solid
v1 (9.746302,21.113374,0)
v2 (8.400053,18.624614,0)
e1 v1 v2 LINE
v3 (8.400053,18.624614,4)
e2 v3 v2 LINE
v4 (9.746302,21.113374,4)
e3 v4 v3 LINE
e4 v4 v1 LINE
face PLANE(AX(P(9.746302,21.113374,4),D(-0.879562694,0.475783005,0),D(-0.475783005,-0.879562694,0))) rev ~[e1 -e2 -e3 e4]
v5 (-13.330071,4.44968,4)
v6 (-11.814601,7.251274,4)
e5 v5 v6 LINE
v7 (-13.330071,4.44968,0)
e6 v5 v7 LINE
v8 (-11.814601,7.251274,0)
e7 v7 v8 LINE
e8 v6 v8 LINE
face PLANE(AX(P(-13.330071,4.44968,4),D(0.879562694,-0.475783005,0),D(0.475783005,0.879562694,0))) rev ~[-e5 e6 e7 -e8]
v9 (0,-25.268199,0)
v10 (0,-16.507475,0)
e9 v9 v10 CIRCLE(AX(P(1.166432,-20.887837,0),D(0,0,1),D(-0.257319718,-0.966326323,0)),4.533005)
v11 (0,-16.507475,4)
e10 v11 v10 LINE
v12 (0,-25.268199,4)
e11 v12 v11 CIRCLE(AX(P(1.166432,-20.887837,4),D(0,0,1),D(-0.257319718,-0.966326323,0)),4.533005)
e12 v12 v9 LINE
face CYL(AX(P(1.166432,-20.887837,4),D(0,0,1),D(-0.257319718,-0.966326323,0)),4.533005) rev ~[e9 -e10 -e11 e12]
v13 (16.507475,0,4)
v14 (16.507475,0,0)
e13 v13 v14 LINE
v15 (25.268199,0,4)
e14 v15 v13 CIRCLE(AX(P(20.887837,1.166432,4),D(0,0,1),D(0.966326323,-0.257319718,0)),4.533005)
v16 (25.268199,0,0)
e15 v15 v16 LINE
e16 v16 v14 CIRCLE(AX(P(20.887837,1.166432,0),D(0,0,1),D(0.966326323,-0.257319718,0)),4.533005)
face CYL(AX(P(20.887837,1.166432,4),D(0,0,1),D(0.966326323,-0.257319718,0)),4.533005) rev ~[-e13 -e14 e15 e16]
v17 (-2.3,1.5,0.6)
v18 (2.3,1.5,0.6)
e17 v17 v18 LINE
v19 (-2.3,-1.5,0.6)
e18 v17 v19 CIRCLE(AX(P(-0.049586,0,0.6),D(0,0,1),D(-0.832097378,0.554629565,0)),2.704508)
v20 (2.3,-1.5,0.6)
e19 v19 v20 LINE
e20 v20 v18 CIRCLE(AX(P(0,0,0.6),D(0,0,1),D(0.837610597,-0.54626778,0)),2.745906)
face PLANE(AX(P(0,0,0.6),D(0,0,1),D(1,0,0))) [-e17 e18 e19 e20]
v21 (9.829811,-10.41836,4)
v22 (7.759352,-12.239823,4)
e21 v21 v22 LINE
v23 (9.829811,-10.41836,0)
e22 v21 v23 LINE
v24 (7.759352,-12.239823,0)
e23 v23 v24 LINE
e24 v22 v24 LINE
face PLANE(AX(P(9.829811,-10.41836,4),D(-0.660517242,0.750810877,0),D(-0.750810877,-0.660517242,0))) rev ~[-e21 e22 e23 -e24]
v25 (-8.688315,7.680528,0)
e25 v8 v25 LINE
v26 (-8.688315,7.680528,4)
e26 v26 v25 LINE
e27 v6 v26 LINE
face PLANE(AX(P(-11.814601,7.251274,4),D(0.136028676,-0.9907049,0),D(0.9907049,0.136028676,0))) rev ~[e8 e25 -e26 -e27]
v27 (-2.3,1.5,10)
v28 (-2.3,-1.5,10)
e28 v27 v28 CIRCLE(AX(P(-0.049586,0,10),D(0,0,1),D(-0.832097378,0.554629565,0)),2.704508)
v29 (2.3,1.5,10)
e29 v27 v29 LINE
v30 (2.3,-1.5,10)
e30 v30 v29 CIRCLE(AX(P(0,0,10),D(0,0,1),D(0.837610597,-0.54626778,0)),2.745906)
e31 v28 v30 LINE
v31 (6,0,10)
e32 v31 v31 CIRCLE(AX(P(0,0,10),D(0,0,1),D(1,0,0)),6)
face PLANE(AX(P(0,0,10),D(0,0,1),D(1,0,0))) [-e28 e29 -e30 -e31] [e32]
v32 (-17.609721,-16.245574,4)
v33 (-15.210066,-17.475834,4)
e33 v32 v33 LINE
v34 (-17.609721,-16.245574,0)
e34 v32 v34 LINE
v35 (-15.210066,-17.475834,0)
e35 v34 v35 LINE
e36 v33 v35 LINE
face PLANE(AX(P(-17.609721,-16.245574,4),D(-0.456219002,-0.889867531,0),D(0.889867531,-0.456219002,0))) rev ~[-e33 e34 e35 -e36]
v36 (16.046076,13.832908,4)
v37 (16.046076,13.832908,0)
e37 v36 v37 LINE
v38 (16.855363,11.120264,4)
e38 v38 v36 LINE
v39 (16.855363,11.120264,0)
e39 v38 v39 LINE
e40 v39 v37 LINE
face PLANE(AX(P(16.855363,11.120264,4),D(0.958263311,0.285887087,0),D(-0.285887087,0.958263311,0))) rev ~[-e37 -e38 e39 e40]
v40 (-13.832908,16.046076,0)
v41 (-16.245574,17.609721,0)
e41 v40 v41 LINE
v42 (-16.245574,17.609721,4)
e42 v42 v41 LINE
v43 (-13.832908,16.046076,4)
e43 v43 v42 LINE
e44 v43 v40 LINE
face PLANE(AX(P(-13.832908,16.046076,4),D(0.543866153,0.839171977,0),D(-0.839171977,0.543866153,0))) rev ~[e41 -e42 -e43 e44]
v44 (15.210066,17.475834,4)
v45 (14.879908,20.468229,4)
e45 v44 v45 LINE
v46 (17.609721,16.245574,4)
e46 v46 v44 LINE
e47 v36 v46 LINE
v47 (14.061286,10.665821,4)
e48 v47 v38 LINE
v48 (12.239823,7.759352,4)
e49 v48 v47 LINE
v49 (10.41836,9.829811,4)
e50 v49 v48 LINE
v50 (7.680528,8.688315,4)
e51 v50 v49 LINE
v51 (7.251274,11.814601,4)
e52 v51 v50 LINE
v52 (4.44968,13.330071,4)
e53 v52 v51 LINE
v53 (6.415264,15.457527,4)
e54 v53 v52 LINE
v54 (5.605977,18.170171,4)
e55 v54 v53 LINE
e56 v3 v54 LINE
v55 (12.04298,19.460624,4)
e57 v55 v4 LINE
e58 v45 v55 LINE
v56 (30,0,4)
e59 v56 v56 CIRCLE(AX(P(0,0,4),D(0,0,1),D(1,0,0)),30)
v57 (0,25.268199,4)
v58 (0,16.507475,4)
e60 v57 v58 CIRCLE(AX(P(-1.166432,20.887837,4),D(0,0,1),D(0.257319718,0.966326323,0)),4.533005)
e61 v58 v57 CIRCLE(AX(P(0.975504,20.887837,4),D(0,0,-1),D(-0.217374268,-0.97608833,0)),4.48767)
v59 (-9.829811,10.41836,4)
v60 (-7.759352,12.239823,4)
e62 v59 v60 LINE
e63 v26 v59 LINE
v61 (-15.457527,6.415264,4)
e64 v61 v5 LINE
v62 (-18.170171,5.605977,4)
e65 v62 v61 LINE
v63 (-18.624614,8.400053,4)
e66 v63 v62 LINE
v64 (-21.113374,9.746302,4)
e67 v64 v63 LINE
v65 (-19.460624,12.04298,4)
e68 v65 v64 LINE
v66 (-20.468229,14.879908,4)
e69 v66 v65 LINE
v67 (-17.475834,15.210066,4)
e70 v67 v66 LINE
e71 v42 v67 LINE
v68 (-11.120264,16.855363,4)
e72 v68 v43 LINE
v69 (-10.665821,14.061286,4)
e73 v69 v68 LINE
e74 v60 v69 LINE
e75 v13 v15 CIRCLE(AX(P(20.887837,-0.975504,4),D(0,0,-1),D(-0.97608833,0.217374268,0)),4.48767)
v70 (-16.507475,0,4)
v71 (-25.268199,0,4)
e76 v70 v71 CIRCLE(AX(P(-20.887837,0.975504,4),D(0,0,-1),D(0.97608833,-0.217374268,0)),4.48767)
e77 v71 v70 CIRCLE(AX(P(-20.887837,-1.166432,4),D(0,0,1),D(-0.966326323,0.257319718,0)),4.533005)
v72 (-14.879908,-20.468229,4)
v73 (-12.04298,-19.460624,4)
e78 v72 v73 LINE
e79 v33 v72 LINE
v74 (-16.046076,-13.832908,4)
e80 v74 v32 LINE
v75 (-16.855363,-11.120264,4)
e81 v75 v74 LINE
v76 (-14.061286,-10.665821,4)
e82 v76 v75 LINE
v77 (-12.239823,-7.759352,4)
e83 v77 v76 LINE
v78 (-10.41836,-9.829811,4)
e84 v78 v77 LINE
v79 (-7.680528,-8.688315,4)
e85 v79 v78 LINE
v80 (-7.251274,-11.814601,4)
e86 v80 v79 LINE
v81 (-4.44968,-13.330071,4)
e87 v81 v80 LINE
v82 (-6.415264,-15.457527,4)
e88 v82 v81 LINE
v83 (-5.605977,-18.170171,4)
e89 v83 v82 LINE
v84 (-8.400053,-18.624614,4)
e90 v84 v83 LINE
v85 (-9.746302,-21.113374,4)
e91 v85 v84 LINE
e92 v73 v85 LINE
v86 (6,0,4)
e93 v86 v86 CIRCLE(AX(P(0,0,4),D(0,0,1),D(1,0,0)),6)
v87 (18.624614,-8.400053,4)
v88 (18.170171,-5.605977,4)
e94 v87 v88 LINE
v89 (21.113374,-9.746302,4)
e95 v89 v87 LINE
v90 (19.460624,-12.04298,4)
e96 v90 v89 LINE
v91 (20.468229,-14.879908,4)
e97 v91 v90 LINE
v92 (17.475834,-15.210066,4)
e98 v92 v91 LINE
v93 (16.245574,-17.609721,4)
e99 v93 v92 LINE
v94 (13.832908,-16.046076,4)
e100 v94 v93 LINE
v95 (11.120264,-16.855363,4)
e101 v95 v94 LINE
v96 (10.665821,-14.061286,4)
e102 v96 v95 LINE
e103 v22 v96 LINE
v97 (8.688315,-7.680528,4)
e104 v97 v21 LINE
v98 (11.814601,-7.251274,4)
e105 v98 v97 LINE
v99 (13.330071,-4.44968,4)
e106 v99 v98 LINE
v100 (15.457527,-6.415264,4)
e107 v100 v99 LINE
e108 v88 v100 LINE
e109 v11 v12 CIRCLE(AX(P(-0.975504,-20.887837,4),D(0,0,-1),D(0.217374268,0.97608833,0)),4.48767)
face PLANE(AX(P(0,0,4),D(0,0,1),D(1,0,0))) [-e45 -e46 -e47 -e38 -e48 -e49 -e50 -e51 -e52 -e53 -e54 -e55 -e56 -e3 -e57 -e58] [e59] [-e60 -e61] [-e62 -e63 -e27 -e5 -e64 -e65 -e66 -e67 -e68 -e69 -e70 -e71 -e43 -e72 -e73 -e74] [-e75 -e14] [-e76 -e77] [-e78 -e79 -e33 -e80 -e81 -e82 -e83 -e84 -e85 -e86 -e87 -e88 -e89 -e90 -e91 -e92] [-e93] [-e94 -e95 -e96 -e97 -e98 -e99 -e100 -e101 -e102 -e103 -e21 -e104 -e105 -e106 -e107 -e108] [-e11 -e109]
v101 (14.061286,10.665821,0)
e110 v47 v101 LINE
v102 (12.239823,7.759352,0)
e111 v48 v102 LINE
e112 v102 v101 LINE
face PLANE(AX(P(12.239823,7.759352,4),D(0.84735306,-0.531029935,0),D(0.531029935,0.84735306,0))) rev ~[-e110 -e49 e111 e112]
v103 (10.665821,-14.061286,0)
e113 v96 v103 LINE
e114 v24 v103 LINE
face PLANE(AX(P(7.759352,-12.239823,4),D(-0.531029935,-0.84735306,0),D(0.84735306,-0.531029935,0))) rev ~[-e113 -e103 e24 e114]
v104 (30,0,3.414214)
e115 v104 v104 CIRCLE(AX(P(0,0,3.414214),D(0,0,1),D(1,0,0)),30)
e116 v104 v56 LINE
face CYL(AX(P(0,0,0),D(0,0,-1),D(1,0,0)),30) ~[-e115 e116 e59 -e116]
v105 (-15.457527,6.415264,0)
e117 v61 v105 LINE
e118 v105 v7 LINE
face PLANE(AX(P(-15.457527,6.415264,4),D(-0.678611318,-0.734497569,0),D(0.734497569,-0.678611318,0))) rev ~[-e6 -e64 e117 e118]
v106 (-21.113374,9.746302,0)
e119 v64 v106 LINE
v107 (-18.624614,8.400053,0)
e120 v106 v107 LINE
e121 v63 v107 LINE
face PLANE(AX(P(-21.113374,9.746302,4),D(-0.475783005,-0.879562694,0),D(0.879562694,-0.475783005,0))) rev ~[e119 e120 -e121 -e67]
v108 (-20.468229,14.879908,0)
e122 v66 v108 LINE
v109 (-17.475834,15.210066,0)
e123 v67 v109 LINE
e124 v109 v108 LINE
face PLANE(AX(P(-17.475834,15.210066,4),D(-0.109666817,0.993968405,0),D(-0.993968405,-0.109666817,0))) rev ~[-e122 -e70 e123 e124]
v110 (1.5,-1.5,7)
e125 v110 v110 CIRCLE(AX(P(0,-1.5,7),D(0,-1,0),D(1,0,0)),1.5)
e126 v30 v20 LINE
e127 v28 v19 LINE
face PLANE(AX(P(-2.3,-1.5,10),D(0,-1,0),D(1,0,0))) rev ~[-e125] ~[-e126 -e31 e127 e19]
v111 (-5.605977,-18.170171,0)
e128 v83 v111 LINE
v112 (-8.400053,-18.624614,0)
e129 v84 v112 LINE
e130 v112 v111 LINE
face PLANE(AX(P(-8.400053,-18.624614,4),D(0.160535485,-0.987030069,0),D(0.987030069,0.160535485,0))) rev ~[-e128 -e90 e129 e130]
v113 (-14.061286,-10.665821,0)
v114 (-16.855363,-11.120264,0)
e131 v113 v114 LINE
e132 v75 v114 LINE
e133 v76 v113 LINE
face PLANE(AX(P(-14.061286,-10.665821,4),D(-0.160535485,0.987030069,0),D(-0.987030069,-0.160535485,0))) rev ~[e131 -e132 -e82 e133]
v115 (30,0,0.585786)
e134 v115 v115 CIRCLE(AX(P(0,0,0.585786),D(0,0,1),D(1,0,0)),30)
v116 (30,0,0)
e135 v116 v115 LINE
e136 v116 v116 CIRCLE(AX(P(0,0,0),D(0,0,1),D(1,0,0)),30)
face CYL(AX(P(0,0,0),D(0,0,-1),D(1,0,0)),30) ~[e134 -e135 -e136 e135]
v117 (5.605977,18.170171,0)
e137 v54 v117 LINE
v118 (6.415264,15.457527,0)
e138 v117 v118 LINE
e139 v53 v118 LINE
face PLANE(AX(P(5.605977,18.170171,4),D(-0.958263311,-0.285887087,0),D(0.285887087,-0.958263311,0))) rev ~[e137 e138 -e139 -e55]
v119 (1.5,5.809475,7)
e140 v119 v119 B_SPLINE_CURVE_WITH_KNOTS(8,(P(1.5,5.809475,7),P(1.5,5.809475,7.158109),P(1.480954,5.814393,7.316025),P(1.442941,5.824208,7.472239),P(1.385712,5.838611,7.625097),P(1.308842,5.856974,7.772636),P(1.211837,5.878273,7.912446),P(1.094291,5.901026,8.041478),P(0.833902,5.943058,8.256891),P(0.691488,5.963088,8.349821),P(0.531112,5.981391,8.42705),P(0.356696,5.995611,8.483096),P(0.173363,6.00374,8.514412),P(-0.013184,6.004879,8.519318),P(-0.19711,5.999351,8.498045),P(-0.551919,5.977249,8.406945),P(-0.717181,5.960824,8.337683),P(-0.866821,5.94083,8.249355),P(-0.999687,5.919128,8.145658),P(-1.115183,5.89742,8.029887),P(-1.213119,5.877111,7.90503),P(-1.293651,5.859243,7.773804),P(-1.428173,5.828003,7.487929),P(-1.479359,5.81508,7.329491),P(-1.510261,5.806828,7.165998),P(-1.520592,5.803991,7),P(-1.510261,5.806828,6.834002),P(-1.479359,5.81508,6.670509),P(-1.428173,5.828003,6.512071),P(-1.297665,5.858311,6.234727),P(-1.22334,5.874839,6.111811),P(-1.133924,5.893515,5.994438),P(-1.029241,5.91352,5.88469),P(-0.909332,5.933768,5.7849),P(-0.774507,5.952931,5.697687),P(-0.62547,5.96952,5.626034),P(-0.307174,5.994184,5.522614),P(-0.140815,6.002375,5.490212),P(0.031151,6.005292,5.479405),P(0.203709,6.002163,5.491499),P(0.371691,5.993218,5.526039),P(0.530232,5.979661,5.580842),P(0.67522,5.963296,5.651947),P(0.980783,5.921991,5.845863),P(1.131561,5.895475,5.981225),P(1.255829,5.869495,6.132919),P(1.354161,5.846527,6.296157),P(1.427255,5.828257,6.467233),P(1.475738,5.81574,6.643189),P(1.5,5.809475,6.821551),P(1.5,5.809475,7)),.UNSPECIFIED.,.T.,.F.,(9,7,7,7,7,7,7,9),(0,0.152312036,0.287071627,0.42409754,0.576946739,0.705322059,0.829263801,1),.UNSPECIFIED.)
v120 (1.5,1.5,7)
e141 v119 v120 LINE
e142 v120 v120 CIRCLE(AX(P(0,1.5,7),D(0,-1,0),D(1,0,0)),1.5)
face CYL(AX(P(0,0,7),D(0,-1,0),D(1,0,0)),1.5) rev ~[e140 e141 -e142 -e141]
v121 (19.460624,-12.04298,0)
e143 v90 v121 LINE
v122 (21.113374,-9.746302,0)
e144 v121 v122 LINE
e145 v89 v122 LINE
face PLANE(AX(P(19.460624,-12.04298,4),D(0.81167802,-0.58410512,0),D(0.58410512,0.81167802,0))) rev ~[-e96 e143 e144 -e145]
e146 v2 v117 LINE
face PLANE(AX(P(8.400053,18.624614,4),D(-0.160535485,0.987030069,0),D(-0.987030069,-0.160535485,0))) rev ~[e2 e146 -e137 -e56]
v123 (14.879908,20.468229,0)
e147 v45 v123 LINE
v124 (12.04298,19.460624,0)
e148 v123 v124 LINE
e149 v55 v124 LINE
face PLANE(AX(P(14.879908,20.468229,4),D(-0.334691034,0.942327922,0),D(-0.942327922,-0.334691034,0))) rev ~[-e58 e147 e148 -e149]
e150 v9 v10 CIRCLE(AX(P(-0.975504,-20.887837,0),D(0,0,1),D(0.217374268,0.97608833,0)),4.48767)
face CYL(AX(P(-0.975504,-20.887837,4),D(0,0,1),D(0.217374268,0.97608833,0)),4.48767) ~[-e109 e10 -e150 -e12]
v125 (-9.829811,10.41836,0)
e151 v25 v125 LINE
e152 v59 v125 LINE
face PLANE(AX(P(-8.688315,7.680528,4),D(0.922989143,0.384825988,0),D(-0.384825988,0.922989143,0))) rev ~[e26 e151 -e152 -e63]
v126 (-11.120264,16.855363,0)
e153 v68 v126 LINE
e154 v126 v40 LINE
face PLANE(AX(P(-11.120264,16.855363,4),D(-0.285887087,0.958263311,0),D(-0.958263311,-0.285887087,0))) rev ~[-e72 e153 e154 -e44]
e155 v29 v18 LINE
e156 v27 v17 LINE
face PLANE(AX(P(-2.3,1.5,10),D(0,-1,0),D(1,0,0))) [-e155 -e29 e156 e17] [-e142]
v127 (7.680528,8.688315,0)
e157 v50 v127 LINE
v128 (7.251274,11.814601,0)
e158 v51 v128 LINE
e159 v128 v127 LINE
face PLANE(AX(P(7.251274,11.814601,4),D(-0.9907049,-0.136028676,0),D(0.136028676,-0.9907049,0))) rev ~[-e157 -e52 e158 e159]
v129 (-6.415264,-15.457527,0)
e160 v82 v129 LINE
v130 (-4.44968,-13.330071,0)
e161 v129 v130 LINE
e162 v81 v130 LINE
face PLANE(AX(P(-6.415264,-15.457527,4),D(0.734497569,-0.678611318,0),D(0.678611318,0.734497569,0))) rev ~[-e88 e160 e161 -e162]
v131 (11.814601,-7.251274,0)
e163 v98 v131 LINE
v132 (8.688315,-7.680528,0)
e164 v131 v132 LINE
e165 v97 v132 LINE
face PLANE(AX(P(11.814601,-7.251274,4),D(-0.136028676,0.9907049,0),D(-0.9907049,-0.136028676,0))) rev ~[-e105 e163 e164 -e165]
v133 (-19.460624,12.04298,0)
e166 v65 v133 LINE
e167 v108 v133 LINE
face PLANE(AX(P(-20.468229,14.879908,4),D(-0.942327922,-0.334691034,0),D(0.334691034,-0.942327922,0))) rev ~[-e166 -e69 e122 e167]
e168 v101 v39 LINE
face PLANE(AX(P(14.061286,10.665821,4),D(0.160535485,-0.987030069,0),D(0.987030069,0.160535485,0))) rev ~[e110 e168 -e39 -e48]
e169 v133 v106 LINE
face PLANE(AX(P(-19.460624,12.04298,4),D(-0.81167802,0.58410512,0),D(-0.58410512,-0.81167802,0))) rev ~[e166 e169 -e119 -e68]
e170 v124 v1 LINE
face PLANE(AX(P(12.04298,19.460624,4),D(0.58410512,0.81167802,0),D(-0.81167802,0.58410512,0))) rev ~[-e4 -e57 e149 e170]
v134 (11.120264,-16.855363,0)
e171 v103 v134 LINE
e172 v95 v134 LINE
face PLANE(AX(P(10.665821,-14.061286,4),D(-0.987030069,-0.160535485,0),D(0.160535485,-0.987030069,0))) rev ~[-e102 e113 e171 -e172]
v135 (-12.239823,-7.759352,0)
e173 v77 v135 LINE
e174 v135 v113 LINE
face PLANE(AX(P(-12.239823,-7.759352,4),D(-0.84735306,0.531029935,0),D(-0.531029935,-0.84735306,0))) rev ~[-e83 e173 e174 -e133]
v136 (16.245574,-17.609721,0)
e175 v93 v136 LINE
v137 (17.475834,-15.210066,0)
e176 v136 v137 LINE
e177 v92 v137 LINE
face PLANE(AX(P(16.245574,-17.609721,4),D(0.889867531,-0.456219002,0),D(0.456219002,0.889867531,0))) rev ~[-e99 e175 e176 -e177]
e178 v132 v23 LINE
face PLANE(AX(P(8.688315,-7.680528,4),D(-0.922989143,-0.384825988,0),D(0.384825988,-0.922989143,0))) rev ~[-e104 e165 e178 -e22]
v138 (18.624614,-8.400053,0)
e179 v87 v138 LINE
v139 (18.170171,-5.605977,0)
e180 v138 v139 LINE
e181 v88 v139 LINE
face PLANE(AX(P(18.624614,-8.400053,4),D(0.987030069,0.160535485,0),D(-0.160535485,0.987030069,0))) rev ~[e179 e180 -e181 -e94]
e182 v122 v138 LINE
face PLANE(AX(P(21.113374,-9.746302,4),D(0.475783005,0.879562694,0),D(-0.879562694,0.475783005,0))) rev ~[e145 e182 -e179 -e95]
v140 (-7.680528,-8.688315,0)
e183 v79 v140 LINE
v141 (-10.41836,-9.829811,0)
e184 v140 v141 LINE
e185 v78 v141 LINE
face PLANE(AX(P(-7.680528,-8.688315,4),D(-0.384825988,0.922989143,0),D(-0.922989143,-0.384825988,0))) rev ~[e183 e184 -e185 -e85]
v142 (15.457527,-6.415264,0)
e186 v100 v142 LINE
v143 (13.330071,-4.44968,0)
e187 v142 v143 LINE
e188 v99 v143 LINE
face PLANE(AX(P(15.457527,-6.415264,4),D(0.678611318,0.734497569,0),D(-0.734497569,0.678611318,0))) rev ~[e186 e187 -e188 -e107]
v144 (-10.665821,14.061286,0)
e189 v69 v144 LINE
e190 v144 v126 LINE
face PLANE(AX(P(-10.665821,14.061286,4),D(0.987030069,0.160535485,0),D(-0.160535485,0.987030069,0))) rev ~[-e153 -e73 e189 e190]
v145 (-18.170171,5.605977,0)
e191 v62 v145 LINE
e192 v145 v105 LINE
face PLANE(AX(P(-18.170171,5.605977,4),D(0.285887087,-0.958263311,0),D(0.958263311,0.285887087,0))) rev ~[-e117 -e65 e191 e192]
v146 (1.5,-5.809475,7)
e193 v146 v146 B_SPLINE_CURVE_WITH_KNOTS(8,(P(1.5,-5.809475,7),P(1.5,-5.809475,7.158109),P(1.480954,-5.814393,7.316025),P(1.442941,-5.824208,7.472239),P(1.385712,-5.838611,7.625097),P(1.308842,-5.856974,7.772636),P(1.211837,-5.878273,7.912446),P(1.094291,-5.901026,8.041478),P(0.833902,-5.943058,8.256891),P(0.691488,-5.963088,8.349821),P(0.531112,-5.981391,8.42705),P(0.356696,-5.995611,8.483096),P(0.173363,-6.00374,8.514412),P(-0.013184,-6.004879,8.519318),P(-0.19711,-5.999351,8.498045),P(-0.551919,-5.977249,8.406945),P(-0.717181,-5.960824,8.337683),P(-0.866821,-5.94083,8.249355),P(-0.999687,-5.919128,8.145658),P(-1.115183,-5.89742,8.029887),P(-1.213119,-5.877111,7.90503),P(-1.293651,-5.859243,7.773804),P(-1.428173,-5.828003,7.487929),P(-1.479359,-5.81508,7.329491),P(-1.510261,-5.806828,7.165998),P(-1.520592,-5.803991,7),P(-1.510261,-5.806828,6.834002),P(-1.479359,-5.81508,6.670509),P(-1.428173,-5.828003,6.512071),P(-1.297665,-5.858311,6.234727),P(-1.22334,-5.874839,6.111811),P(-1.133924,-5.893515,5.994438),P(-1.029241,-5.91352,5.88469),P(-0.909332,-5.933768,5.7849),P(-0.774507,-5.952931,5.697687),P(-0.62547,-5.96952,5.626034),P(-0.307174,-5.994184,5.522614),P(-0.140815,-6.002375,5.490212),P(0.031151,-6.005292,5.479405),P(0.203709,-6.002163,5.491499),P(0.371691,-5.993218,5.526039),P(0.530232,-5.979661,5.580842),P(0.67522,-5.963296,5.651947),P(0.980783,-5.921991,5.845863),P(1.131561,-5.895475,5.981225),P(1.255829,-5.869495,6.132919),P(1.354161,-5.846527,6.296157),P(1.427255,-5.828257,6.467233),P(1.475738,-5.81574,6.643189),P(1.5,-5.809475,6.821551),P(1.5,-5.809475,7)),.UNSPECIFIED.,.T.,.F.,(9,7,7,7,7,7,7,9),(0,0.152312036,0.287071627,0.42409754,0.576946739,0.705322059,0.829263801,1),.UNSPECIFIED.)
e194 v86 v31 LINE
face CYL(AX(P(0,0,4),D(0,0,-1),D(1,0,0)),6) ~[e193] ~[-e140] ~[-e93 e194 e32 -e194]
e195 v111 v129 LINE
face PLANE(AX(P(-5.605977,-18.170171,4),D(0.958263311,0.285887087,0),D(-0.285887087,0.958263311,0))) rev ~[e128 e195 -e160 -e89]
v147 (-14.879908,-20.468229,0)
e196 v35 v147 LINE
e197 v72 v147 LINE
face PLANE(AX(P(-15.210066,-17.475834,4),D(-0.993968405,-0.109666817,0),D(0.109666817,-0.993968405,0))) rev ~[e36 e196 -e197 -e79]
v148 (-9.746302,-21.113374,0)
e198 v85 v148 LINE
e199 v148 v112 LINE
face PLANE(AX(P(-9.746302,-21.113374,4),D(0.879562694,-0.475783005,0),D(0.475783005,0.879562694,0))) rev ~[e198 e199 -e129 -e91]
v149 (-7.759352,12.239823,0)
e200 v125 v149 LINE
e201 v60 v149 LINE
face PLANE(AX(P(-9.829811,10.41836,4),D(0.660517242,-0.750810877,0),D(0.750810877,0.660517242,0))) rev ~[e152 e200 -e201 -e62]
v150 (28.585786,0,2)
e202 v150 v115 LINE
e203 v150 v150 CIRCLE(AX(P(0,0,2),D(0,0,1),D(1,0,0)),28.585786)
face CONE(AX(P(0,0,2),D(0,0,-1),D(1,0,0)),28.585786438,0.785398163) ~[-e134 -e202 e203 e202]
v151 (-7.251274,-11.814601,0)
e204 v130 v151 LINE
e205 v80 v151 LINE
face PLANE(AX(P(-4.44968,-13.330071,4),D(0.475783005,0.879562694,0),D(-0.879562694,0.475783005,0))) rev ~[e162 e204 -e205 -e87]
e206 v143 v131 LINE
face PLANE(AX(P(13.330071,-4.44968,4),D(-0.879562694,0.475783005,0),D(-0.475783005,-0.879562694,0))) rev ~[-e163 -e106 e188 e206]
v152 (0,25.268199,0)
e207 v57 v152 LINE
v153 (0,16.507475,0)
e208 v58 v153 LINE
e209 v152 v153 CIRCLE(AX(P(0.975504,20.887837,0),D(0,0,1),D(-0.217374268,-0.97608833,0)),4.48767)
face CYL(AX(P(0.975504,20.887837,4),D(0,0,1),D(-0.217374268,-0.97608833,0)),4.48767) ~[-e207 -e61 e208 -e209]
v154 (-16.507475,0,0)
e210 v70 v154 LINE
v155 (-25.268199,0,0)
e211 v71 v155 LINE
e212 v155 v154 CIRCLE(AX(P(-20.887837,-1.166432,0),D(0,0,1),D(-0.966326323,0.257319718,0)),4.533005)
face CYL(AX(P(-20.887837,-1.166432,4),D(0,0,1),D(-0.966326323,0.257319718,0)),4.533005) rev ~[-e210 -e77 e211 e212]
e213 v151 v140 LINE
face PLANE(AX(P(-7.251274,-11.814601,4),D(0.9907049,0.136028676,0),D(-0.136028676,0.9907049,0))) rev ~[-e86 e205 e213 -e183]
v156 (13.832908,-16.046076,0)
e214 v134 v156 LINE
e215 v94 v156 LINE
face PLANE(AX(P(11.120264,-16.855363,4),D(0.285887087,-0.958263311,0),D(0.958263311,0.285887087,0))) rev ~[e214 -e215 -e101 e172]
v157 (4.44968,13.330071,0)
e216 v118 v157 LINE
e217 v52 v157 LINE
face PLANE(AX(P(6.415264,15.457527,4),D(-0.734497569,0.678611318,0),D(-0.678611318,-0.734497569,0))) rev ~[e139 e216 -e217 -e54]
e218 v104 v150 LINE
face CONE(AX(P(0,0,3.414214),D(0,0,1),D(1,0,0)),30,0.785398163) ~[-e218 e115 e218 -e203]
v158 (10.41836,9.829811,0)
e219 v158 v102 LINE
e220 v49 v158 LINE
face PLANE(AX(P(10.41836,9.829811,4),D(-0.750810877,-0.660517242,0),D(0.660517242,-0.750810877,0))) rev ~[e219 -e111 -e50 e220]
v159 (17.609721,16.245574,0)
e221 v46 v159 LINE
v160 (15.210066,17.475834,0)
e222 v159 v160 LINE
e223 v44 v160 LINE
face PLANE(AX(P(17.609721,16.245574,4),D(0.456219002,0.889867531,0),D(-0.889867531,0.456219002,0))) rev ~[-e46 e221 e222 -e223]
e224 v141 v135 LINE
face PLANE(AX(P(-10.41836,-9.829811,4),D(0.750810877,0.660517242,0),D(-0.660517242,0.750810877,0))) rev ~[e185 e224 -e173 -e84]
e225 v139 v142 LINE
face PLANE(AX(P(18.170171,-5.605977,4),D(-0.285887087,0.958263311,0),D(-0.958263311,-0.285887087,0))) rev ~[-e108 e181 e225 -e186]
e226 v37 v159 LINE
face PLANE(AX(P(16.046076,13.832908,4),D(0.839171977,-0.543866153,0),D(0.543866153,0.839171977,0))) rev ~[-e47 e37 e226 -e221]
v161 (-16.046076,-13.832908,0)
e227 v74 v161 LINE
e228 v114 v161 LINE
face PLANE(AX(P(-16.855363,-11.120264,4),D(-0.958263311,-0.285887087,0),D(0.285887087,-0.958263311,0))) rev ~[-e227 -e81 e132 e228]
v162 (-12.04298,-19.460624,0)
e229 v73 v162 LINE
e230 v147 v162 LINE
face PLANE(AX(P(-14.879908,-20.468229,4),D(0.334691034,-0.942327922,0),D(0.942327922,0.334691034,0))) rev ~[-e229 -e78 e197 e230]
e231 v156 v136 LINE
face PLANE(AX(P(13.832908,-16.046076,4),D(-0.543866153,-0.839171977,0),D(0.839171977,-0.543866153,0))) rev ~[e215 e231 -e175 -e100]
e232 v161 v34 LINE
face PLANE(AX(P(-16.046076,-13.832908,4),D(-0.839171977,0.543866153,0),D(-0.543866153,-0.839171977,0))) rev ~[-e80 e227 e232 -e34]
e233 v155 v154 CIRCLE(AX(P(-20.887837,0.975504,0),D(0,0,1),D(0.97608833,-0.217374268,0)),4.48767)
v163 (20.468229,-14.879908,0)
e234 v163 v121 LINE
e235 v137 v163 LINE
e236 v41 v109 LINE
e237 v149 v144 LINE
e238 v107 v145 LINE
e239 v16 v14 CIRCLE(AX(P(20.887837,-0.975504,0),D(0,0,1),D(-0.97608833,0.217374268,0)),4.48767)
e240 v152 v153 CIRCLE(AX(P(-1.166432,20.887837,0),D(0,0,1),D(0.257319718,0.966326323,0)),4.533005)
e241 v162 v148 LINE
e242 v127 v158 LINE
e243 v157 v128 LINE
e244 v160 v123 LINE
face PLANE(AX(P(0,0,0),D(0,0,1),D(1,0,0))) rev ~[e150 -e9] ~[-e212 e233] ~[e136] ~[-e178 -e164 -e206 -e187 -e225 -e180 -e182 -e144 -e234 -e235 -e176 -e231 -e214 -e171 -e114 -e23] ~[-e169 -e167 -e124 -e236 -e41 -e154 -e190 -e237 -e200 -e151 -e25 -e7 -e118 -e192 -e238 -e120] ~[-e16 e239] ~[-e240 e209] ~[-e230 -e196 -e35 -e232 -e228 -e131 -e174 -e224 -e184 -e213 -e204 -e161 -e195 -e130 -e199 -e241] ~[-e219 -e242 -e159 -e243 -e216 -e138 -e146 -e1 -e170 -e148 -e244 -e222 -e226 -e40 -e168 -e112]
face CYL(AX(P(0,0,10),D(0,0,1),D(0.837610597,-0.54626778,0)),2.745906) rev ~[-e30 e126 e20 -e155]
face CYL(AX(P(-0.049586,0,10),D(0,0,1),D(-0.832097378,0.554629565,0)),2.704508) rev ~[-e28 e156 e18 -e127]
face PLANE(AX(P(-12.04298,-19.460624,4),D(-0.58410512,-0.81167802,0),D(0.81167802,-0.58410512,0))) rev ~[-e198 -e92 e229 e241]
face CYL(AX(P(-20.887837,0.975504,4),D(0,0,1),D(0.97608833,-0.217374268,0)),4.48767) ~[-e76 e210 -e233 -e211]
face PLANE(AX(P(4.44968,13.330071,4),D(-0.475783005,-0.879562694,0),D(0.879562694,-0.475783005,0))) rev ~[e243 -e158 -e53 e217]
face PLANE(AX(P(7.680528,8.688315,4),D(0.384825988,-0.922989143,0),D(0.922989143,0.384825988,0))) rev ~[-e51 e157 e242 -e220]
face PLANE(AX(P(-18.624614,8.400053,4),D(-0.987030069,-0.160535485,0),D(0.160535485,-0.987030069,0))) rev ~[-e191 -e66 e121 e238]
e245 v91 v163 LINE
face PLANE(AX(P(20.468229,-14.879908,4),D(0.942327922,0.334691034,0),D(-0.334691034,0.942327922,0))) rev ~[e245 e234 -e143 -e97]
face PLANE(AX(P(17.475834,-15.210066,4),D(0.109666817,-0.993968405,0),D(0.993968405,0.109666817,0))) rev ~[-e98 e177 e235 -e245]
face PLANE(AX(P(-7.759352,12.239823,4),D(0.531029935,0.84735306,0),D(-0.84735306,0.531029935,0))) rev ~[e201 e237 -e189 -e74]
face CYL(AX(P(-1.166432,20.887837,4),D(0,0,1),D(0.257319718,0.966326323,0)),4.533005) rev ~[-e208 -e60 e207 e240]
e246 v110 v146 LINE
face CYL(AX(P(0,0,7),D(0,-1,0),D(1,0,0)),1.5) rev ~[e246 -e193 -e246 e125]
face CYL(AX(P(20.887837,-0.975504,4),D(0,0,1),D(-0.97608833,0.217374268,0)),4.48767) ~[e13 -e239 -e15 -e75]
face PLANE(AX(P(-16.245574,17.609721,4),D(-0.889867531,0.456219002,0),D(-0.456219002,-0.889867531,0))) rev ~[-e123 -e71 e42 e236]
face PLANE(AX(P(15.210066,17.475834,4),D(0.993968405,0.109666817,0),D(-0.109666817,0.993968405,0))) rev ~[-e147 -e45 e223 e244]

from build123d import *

# Parameters (mm, degrees)
F0_R      = 30
F1_DEPTH  = 4
F2_R      = 6
F3_DEPTH  = 6
F4_R      = 1.5
F5_DEPTH  = 9.95
F6_W      = 4.6
F6_H      = 3
F7_DEPTH  = 9.4
F9_DEPTH  = 25
F11_DEPTH = 25


with BuildPart() as f1:
    # F0 (on Top) → F1 (new body)
    with BuildSketch(Plane.XY):
        Circle(F0_R)
    extrude(amount=F1_DEPTH)

    # F2 (on face) → F3 (join)
    with BuildSketch(Plane.XY.offset(4)):
        Circle(F2_R)
    extrude(amount=F3_DEPTH)

    # F4 (on Front) → F5 (cut, symmetric)
    with BuildSketch(Plane.XZ):
        with Locations((0, 7)):
            Circle(F4_R)
    extrude(amount=F5_DEPTH, both=True, mode=Mode.SUBTRACT)

    # F6 (on face) → F7 (cut)
    with BuildSketch(Plane.XY.offset(10)):
        Rectangle(F6_W, F6_H)
        with BuildLine():
            ThreePointArc((2.3, -1.5), (2.7459060435, 0), (2.3, 1.5))
            Line((2.3, 1.5), (2.3, -1.5))
        make_face()
        with BuildLine():
            Line((-2.3, -1.5), (-2.3, 1.5))
            ThreePointArc((-2.3, 1.5), (-2.7540939565, 0), (-2.3, -1.5))
        make_face()
    extrude(amount=-F7_DEPTH, mode=Mode.SUBTRACT)

    # F8 (on face) → F9 (cut)
    with BuildSketch(Plane.XY.offset(4)):
        with BuildLine():
            ThreePointArc((0, 16.5074747056), (-3.5121658528, 20.8878368139), (0, 25.2681989223))
            ThreePointArc((0, 25.2681989223), (-5.6994366386, 20.8878368139), (0, 16.5074747056))
        make_face()
        with BuildLine():
            ThreePointArc((-16.5074747056, 0), (-20.8878368139, -3.5121658528), (-25.2681989223, 0))
            ThreePointArc((-25.2681989223, 0), (-20.8878368139, -5.6994366386), (-16.5074747056, 0))
        make_face()
        with BuildLine():
            ThreePointArc((0, -16.5074747056), (3.5121658528, -20.8878368139), (0, -25.2681989223))
            ThreePointArc((0, -25.2681989223), (5.6994366386, -20.8878368139), (0, -16.5074747056))
        make_face()
        with BuildLine():
            ThreePointArc((16.5074747056, 0), (20.8878368139, 3.5121658528), (25.2681989223, 0))
            ThreePointArc((25.2681989223, 0), (20.8878368139, 5.6994366386), (16.5074747056, 0))
        make_face()
    extrude(amount=-F9_DEPTH, mode=Mode.SUBTRACT)

    # F10 (on face) → F11 (cut)
    with BuildSketch(Plane.XY.offset(4)):
        with BuildLine():
            ThreePointArc((-9.8298114426, 10.4183598849), (-9.7788159618, 10.8230928332), (-9.7617778379, 11.2306698208))
            ThreePointArc((-9.7617778379, 11.2306698208), (-9.9932757594, 12.7164090182), (-10.6658213511, 14.0612862161))
            Line((-10.6658213511, 14.0612862161), (-9.8298114426, 10.4183598849))
        make_face()
        with BuildLine():
            ThreePointArc((-10.6658213511, 14.0612862161), (-9.9932757594, 12.7164090182), (-9.7617778379, 11.2306698208))
            ThreePointArc((-9.7617778379, 11.2306698208), (-9.7788159618, 10.8230928332), (-9.8298114426, 10.4183598849))
            Line((-9.8298114426, 10.4183598849), (-7.759351705, 12.2398230505))
            Line((-7.759351705, 12.2398230505), (-10.6658213511, 14.0612862161))
        make_face()
        with BuildLine():
            Line((-13.8329075388, 16.0460758528), (-10.6658213511, 14.0612862161))
            ThreePointArc((-10.6658213511, 14.0612862161), (-12.0519648423, 15.3686673401), (-13.8329075388, 16.0460758528))
        make_face()
        Polygon((-9.8298114426, 10.4183598849), (-10.6658213511, 14.0612862161), (-13.8329075388, 16.0460758528), (-17.47583387, 15.2100659443), (-19.4606235067, 12.0429797567), (-18.6246135982, 8.4000534254), (-15.4575274105, 6.4152637887), (-11.8146010793, 7.2512736973), align=None)
        with BuildLine():
            ThreePointArc((-13.8329075388, 16.0460758528), (-12.0519648423, 15.3686673401), (-10.6658213511, 14.0612862161))
            Line((-10.6658213511, 14.0612862161), (-11.120263847, 16.8553626042))
            Line((-11.120263847, 16.8553626042), (-13.8329075388, 16.0460758528))
        make_face()
        with BuildLine():
            Line((-8.6883150478, 7.680528209), (-9.8298114426, 10.4183598849))
            ThreePointArc((-9.8298114426, 10.4183598849), (-10.5072199553, 8.6374171884), (-11.8146010793, 7.2512736973))
            Line((-11.8146010793, 7.2512736973), (-8.6883150478, 7.680528209))
        make_face()
        with BuildLine():
            ThreePointArc((-11.8146010793, 7.2512736973), (-10.5072199553, 8.6374171884), (-9.8298114426, 10.4183598849))
            Line((-9.8298114426, 10.4183598849), (-11.8146010793, 7.2512736973))
        make_face()
        with BuildLine():
            Line((-17.47583387, 15.2100659443), (-13.8329075388, 16.0460758528))
            ThreePointArc((-13.8329075388, 16.0460758528), (-15.7375170594, 15.9903824489), (-17.47583387, 15.2100659443))
        make_face()
        with BuildLine():
            ThreePointArc((-17.47583387, 15.2100659443), (-15.7375170594, 15.9903824489), (-13.8329075388, 16.0460758528))
            Line((-13.8329075388, 16.0460758528), (-16.2455738647, 17.609721433))
            Line((-16.2455738647, 17.609721433), (-17.47583387, 15.2100659443))
        make_face()
        with BuildLine():
            Line((-13.3300706432, 4.4496803728), (-11.8146010793, 7.2512736973))
            ThreePointArc((-11.8146010793, 7.2512736973), (-13.5529178899, 6.4709571926), (-15.4575274105, 6.4152637887))
            Line((-15.4575274105, 6.4152637887), (-13.3300706432, 4.4496803728))
        make_face()
        with BuildLine():
            ThreePointArc((-15.4575274105, 6.4152637887), (-13.5529178899, 6.4709571926), (-11.8146010793, 7.2512736973))
            Line((-11.8146010793, 7.2512736973), (-15.4575274105, 6.4152637887))
        make_face()
        with BuildLine():
            Line((-19.4606235067, 12.0429797567), (-17.47583387, 15.2100659443))
            ThreePointArc((-17.47583387, 15.2100659443), (-18.783214994, 13.8239224532), (-19.4606235067, 12.0429797567))
        make_face()
        with BuildLine():
            ThreePointArc((-19.4606235067, 12.0429797567), (-18.783214994, 13.8239224532), (-17.47583387, 15.2100659443))
            Line((-17.47583387, 15.2100659443), (-20.4682286884, 14.8799081511))
            Line((-20.4682286884, 14.8799081511), (-19.4606235067, 12.0429797567))
        make_face()
        with BuildLine():
            Line((-18.1701711023, 5.6059770373), (-15.4575274105, 6.4152637887))
            ThreePointArc((-15.4575274105, 6.4152637887), (-17.2384701071, 7.0926723014), (-18.6246135982, 8.4000534254))
            Line((-18.6246135982, 8.4000534254), (-18.1701711023, 5.6059770373))
        make_face()
        with BuildLine():
            ThreePointArc((-18.6246135982, 8.4000534254), (-17.2384701071, 7.0926723014), (-15.4575274105, 6.4152637887))
            Line((-15.4575274105, 6.4152637887), (-18.6246135982, 8.4000534254))
        make_face()
        with BuildLine():
            Line((-18.6246135982, 8.4000534254), (-19.4606235067, 12.0429797567))
            ThreePointArc((-19.4606235067, 12.0429797567), (-19.4049301028, 10.138370236), (-18.6246135982, 8.4000534254))
        make_face()
        with BuildLine():
            ThreePointArc((-18.6246135982, 8.4000534254), (-19.4049301028, 10.138370236), (-19.4606235067, 12.0429797567))
            Line((-19.4606235067, 12.0429797567), (-21.1133740596, 9.7463018969))
            Line((-21.1133740596, 9.7463018969), (-18.6246135982, 8.4000534254))
        make_face()
        Polygon((-14.8799081511, -20.4682286884), (-12.0429797567, -19.4606235067), (-9.7463018969, -21.1133740596), (-8.4000534254, -18.6246135982), (-5.6059770373, -18.1701711023), (-6.4152637887, -15.4575274105), (-4.4496803728, -13.3300706432), (-7.2512736973, -11.8146010793), (-7.680528209, -8.6883150478), (-10.4183598849, -9.8298114426), (-12.2398230505, -7.759351705), (-14.0612862161, -10.6658213511), (-16.8553626042, -11.120263847), (-16.0460758528, -13.8329075388), (-17.609721433, -16.2455738647), (-15.2100659443, -17.47583387), align=None)
        Polygon((20.4682286884, -14.8799081511), (19.4606235067, -12.0429797567), (21.1133740596, -9.7463018969), (18.6246135982, -8.4000534254), (18.1701711023, -5.6059770373), (15.4575274105, -6.4152637887), (13.3300706432, -4.4496803728), (11.8146010793, -7.2512736973), (8.6883150478, -7.680528209), (9.8298114426, -10.4183598849), (7.759351705, -12.2398230505), (10.6658213511, -14.0612862161), (11.120263847, -16.8553626042), (13.8329075388, -16.0460758528), (16.2455738647, -17.609721433), (17.47583387, -15.2100659443), align=None)
        Polygon((14.8799081511, 20.4682286884), (12.0429797567, 19.4606235067), (9.7463018969, 21.1133740596), (8.4000534254, 18.6246135982), (5.6059770373, 18.1701711023), (6.4152637887, 15.4575274105), (4.4496803728, 13.3300706432), (7.2512736973, 11.8146010793), (7.680528209, 8.6883150478), (10.4183598849, 9.8298114426), (12.2398230505, 7.759351705), (14.0612862161, 10.6658213511), (16.8553626042, 11.120263847), (16.0460758528, 13.8329075388), (17.609721433, 16.2455738647), (15.2100659443, 17.47583387), align=None)
    extrude(amount=-F11_DEPTH, mode=Mode.SUBTRACT)

    # F12 (on Front) → F13 (revolve, cut)
    with BuildSketch(Plane.XZ):
        Polygon((30, 0.5857864376), (30, 3.4142135624), (28.5857864376, 2), align=None)
    revolve(axis=Axis((0, 0, 3.4037481528), (0, 0, 1)), mode=Mode.SUBTRACT)


solid = f1.part
